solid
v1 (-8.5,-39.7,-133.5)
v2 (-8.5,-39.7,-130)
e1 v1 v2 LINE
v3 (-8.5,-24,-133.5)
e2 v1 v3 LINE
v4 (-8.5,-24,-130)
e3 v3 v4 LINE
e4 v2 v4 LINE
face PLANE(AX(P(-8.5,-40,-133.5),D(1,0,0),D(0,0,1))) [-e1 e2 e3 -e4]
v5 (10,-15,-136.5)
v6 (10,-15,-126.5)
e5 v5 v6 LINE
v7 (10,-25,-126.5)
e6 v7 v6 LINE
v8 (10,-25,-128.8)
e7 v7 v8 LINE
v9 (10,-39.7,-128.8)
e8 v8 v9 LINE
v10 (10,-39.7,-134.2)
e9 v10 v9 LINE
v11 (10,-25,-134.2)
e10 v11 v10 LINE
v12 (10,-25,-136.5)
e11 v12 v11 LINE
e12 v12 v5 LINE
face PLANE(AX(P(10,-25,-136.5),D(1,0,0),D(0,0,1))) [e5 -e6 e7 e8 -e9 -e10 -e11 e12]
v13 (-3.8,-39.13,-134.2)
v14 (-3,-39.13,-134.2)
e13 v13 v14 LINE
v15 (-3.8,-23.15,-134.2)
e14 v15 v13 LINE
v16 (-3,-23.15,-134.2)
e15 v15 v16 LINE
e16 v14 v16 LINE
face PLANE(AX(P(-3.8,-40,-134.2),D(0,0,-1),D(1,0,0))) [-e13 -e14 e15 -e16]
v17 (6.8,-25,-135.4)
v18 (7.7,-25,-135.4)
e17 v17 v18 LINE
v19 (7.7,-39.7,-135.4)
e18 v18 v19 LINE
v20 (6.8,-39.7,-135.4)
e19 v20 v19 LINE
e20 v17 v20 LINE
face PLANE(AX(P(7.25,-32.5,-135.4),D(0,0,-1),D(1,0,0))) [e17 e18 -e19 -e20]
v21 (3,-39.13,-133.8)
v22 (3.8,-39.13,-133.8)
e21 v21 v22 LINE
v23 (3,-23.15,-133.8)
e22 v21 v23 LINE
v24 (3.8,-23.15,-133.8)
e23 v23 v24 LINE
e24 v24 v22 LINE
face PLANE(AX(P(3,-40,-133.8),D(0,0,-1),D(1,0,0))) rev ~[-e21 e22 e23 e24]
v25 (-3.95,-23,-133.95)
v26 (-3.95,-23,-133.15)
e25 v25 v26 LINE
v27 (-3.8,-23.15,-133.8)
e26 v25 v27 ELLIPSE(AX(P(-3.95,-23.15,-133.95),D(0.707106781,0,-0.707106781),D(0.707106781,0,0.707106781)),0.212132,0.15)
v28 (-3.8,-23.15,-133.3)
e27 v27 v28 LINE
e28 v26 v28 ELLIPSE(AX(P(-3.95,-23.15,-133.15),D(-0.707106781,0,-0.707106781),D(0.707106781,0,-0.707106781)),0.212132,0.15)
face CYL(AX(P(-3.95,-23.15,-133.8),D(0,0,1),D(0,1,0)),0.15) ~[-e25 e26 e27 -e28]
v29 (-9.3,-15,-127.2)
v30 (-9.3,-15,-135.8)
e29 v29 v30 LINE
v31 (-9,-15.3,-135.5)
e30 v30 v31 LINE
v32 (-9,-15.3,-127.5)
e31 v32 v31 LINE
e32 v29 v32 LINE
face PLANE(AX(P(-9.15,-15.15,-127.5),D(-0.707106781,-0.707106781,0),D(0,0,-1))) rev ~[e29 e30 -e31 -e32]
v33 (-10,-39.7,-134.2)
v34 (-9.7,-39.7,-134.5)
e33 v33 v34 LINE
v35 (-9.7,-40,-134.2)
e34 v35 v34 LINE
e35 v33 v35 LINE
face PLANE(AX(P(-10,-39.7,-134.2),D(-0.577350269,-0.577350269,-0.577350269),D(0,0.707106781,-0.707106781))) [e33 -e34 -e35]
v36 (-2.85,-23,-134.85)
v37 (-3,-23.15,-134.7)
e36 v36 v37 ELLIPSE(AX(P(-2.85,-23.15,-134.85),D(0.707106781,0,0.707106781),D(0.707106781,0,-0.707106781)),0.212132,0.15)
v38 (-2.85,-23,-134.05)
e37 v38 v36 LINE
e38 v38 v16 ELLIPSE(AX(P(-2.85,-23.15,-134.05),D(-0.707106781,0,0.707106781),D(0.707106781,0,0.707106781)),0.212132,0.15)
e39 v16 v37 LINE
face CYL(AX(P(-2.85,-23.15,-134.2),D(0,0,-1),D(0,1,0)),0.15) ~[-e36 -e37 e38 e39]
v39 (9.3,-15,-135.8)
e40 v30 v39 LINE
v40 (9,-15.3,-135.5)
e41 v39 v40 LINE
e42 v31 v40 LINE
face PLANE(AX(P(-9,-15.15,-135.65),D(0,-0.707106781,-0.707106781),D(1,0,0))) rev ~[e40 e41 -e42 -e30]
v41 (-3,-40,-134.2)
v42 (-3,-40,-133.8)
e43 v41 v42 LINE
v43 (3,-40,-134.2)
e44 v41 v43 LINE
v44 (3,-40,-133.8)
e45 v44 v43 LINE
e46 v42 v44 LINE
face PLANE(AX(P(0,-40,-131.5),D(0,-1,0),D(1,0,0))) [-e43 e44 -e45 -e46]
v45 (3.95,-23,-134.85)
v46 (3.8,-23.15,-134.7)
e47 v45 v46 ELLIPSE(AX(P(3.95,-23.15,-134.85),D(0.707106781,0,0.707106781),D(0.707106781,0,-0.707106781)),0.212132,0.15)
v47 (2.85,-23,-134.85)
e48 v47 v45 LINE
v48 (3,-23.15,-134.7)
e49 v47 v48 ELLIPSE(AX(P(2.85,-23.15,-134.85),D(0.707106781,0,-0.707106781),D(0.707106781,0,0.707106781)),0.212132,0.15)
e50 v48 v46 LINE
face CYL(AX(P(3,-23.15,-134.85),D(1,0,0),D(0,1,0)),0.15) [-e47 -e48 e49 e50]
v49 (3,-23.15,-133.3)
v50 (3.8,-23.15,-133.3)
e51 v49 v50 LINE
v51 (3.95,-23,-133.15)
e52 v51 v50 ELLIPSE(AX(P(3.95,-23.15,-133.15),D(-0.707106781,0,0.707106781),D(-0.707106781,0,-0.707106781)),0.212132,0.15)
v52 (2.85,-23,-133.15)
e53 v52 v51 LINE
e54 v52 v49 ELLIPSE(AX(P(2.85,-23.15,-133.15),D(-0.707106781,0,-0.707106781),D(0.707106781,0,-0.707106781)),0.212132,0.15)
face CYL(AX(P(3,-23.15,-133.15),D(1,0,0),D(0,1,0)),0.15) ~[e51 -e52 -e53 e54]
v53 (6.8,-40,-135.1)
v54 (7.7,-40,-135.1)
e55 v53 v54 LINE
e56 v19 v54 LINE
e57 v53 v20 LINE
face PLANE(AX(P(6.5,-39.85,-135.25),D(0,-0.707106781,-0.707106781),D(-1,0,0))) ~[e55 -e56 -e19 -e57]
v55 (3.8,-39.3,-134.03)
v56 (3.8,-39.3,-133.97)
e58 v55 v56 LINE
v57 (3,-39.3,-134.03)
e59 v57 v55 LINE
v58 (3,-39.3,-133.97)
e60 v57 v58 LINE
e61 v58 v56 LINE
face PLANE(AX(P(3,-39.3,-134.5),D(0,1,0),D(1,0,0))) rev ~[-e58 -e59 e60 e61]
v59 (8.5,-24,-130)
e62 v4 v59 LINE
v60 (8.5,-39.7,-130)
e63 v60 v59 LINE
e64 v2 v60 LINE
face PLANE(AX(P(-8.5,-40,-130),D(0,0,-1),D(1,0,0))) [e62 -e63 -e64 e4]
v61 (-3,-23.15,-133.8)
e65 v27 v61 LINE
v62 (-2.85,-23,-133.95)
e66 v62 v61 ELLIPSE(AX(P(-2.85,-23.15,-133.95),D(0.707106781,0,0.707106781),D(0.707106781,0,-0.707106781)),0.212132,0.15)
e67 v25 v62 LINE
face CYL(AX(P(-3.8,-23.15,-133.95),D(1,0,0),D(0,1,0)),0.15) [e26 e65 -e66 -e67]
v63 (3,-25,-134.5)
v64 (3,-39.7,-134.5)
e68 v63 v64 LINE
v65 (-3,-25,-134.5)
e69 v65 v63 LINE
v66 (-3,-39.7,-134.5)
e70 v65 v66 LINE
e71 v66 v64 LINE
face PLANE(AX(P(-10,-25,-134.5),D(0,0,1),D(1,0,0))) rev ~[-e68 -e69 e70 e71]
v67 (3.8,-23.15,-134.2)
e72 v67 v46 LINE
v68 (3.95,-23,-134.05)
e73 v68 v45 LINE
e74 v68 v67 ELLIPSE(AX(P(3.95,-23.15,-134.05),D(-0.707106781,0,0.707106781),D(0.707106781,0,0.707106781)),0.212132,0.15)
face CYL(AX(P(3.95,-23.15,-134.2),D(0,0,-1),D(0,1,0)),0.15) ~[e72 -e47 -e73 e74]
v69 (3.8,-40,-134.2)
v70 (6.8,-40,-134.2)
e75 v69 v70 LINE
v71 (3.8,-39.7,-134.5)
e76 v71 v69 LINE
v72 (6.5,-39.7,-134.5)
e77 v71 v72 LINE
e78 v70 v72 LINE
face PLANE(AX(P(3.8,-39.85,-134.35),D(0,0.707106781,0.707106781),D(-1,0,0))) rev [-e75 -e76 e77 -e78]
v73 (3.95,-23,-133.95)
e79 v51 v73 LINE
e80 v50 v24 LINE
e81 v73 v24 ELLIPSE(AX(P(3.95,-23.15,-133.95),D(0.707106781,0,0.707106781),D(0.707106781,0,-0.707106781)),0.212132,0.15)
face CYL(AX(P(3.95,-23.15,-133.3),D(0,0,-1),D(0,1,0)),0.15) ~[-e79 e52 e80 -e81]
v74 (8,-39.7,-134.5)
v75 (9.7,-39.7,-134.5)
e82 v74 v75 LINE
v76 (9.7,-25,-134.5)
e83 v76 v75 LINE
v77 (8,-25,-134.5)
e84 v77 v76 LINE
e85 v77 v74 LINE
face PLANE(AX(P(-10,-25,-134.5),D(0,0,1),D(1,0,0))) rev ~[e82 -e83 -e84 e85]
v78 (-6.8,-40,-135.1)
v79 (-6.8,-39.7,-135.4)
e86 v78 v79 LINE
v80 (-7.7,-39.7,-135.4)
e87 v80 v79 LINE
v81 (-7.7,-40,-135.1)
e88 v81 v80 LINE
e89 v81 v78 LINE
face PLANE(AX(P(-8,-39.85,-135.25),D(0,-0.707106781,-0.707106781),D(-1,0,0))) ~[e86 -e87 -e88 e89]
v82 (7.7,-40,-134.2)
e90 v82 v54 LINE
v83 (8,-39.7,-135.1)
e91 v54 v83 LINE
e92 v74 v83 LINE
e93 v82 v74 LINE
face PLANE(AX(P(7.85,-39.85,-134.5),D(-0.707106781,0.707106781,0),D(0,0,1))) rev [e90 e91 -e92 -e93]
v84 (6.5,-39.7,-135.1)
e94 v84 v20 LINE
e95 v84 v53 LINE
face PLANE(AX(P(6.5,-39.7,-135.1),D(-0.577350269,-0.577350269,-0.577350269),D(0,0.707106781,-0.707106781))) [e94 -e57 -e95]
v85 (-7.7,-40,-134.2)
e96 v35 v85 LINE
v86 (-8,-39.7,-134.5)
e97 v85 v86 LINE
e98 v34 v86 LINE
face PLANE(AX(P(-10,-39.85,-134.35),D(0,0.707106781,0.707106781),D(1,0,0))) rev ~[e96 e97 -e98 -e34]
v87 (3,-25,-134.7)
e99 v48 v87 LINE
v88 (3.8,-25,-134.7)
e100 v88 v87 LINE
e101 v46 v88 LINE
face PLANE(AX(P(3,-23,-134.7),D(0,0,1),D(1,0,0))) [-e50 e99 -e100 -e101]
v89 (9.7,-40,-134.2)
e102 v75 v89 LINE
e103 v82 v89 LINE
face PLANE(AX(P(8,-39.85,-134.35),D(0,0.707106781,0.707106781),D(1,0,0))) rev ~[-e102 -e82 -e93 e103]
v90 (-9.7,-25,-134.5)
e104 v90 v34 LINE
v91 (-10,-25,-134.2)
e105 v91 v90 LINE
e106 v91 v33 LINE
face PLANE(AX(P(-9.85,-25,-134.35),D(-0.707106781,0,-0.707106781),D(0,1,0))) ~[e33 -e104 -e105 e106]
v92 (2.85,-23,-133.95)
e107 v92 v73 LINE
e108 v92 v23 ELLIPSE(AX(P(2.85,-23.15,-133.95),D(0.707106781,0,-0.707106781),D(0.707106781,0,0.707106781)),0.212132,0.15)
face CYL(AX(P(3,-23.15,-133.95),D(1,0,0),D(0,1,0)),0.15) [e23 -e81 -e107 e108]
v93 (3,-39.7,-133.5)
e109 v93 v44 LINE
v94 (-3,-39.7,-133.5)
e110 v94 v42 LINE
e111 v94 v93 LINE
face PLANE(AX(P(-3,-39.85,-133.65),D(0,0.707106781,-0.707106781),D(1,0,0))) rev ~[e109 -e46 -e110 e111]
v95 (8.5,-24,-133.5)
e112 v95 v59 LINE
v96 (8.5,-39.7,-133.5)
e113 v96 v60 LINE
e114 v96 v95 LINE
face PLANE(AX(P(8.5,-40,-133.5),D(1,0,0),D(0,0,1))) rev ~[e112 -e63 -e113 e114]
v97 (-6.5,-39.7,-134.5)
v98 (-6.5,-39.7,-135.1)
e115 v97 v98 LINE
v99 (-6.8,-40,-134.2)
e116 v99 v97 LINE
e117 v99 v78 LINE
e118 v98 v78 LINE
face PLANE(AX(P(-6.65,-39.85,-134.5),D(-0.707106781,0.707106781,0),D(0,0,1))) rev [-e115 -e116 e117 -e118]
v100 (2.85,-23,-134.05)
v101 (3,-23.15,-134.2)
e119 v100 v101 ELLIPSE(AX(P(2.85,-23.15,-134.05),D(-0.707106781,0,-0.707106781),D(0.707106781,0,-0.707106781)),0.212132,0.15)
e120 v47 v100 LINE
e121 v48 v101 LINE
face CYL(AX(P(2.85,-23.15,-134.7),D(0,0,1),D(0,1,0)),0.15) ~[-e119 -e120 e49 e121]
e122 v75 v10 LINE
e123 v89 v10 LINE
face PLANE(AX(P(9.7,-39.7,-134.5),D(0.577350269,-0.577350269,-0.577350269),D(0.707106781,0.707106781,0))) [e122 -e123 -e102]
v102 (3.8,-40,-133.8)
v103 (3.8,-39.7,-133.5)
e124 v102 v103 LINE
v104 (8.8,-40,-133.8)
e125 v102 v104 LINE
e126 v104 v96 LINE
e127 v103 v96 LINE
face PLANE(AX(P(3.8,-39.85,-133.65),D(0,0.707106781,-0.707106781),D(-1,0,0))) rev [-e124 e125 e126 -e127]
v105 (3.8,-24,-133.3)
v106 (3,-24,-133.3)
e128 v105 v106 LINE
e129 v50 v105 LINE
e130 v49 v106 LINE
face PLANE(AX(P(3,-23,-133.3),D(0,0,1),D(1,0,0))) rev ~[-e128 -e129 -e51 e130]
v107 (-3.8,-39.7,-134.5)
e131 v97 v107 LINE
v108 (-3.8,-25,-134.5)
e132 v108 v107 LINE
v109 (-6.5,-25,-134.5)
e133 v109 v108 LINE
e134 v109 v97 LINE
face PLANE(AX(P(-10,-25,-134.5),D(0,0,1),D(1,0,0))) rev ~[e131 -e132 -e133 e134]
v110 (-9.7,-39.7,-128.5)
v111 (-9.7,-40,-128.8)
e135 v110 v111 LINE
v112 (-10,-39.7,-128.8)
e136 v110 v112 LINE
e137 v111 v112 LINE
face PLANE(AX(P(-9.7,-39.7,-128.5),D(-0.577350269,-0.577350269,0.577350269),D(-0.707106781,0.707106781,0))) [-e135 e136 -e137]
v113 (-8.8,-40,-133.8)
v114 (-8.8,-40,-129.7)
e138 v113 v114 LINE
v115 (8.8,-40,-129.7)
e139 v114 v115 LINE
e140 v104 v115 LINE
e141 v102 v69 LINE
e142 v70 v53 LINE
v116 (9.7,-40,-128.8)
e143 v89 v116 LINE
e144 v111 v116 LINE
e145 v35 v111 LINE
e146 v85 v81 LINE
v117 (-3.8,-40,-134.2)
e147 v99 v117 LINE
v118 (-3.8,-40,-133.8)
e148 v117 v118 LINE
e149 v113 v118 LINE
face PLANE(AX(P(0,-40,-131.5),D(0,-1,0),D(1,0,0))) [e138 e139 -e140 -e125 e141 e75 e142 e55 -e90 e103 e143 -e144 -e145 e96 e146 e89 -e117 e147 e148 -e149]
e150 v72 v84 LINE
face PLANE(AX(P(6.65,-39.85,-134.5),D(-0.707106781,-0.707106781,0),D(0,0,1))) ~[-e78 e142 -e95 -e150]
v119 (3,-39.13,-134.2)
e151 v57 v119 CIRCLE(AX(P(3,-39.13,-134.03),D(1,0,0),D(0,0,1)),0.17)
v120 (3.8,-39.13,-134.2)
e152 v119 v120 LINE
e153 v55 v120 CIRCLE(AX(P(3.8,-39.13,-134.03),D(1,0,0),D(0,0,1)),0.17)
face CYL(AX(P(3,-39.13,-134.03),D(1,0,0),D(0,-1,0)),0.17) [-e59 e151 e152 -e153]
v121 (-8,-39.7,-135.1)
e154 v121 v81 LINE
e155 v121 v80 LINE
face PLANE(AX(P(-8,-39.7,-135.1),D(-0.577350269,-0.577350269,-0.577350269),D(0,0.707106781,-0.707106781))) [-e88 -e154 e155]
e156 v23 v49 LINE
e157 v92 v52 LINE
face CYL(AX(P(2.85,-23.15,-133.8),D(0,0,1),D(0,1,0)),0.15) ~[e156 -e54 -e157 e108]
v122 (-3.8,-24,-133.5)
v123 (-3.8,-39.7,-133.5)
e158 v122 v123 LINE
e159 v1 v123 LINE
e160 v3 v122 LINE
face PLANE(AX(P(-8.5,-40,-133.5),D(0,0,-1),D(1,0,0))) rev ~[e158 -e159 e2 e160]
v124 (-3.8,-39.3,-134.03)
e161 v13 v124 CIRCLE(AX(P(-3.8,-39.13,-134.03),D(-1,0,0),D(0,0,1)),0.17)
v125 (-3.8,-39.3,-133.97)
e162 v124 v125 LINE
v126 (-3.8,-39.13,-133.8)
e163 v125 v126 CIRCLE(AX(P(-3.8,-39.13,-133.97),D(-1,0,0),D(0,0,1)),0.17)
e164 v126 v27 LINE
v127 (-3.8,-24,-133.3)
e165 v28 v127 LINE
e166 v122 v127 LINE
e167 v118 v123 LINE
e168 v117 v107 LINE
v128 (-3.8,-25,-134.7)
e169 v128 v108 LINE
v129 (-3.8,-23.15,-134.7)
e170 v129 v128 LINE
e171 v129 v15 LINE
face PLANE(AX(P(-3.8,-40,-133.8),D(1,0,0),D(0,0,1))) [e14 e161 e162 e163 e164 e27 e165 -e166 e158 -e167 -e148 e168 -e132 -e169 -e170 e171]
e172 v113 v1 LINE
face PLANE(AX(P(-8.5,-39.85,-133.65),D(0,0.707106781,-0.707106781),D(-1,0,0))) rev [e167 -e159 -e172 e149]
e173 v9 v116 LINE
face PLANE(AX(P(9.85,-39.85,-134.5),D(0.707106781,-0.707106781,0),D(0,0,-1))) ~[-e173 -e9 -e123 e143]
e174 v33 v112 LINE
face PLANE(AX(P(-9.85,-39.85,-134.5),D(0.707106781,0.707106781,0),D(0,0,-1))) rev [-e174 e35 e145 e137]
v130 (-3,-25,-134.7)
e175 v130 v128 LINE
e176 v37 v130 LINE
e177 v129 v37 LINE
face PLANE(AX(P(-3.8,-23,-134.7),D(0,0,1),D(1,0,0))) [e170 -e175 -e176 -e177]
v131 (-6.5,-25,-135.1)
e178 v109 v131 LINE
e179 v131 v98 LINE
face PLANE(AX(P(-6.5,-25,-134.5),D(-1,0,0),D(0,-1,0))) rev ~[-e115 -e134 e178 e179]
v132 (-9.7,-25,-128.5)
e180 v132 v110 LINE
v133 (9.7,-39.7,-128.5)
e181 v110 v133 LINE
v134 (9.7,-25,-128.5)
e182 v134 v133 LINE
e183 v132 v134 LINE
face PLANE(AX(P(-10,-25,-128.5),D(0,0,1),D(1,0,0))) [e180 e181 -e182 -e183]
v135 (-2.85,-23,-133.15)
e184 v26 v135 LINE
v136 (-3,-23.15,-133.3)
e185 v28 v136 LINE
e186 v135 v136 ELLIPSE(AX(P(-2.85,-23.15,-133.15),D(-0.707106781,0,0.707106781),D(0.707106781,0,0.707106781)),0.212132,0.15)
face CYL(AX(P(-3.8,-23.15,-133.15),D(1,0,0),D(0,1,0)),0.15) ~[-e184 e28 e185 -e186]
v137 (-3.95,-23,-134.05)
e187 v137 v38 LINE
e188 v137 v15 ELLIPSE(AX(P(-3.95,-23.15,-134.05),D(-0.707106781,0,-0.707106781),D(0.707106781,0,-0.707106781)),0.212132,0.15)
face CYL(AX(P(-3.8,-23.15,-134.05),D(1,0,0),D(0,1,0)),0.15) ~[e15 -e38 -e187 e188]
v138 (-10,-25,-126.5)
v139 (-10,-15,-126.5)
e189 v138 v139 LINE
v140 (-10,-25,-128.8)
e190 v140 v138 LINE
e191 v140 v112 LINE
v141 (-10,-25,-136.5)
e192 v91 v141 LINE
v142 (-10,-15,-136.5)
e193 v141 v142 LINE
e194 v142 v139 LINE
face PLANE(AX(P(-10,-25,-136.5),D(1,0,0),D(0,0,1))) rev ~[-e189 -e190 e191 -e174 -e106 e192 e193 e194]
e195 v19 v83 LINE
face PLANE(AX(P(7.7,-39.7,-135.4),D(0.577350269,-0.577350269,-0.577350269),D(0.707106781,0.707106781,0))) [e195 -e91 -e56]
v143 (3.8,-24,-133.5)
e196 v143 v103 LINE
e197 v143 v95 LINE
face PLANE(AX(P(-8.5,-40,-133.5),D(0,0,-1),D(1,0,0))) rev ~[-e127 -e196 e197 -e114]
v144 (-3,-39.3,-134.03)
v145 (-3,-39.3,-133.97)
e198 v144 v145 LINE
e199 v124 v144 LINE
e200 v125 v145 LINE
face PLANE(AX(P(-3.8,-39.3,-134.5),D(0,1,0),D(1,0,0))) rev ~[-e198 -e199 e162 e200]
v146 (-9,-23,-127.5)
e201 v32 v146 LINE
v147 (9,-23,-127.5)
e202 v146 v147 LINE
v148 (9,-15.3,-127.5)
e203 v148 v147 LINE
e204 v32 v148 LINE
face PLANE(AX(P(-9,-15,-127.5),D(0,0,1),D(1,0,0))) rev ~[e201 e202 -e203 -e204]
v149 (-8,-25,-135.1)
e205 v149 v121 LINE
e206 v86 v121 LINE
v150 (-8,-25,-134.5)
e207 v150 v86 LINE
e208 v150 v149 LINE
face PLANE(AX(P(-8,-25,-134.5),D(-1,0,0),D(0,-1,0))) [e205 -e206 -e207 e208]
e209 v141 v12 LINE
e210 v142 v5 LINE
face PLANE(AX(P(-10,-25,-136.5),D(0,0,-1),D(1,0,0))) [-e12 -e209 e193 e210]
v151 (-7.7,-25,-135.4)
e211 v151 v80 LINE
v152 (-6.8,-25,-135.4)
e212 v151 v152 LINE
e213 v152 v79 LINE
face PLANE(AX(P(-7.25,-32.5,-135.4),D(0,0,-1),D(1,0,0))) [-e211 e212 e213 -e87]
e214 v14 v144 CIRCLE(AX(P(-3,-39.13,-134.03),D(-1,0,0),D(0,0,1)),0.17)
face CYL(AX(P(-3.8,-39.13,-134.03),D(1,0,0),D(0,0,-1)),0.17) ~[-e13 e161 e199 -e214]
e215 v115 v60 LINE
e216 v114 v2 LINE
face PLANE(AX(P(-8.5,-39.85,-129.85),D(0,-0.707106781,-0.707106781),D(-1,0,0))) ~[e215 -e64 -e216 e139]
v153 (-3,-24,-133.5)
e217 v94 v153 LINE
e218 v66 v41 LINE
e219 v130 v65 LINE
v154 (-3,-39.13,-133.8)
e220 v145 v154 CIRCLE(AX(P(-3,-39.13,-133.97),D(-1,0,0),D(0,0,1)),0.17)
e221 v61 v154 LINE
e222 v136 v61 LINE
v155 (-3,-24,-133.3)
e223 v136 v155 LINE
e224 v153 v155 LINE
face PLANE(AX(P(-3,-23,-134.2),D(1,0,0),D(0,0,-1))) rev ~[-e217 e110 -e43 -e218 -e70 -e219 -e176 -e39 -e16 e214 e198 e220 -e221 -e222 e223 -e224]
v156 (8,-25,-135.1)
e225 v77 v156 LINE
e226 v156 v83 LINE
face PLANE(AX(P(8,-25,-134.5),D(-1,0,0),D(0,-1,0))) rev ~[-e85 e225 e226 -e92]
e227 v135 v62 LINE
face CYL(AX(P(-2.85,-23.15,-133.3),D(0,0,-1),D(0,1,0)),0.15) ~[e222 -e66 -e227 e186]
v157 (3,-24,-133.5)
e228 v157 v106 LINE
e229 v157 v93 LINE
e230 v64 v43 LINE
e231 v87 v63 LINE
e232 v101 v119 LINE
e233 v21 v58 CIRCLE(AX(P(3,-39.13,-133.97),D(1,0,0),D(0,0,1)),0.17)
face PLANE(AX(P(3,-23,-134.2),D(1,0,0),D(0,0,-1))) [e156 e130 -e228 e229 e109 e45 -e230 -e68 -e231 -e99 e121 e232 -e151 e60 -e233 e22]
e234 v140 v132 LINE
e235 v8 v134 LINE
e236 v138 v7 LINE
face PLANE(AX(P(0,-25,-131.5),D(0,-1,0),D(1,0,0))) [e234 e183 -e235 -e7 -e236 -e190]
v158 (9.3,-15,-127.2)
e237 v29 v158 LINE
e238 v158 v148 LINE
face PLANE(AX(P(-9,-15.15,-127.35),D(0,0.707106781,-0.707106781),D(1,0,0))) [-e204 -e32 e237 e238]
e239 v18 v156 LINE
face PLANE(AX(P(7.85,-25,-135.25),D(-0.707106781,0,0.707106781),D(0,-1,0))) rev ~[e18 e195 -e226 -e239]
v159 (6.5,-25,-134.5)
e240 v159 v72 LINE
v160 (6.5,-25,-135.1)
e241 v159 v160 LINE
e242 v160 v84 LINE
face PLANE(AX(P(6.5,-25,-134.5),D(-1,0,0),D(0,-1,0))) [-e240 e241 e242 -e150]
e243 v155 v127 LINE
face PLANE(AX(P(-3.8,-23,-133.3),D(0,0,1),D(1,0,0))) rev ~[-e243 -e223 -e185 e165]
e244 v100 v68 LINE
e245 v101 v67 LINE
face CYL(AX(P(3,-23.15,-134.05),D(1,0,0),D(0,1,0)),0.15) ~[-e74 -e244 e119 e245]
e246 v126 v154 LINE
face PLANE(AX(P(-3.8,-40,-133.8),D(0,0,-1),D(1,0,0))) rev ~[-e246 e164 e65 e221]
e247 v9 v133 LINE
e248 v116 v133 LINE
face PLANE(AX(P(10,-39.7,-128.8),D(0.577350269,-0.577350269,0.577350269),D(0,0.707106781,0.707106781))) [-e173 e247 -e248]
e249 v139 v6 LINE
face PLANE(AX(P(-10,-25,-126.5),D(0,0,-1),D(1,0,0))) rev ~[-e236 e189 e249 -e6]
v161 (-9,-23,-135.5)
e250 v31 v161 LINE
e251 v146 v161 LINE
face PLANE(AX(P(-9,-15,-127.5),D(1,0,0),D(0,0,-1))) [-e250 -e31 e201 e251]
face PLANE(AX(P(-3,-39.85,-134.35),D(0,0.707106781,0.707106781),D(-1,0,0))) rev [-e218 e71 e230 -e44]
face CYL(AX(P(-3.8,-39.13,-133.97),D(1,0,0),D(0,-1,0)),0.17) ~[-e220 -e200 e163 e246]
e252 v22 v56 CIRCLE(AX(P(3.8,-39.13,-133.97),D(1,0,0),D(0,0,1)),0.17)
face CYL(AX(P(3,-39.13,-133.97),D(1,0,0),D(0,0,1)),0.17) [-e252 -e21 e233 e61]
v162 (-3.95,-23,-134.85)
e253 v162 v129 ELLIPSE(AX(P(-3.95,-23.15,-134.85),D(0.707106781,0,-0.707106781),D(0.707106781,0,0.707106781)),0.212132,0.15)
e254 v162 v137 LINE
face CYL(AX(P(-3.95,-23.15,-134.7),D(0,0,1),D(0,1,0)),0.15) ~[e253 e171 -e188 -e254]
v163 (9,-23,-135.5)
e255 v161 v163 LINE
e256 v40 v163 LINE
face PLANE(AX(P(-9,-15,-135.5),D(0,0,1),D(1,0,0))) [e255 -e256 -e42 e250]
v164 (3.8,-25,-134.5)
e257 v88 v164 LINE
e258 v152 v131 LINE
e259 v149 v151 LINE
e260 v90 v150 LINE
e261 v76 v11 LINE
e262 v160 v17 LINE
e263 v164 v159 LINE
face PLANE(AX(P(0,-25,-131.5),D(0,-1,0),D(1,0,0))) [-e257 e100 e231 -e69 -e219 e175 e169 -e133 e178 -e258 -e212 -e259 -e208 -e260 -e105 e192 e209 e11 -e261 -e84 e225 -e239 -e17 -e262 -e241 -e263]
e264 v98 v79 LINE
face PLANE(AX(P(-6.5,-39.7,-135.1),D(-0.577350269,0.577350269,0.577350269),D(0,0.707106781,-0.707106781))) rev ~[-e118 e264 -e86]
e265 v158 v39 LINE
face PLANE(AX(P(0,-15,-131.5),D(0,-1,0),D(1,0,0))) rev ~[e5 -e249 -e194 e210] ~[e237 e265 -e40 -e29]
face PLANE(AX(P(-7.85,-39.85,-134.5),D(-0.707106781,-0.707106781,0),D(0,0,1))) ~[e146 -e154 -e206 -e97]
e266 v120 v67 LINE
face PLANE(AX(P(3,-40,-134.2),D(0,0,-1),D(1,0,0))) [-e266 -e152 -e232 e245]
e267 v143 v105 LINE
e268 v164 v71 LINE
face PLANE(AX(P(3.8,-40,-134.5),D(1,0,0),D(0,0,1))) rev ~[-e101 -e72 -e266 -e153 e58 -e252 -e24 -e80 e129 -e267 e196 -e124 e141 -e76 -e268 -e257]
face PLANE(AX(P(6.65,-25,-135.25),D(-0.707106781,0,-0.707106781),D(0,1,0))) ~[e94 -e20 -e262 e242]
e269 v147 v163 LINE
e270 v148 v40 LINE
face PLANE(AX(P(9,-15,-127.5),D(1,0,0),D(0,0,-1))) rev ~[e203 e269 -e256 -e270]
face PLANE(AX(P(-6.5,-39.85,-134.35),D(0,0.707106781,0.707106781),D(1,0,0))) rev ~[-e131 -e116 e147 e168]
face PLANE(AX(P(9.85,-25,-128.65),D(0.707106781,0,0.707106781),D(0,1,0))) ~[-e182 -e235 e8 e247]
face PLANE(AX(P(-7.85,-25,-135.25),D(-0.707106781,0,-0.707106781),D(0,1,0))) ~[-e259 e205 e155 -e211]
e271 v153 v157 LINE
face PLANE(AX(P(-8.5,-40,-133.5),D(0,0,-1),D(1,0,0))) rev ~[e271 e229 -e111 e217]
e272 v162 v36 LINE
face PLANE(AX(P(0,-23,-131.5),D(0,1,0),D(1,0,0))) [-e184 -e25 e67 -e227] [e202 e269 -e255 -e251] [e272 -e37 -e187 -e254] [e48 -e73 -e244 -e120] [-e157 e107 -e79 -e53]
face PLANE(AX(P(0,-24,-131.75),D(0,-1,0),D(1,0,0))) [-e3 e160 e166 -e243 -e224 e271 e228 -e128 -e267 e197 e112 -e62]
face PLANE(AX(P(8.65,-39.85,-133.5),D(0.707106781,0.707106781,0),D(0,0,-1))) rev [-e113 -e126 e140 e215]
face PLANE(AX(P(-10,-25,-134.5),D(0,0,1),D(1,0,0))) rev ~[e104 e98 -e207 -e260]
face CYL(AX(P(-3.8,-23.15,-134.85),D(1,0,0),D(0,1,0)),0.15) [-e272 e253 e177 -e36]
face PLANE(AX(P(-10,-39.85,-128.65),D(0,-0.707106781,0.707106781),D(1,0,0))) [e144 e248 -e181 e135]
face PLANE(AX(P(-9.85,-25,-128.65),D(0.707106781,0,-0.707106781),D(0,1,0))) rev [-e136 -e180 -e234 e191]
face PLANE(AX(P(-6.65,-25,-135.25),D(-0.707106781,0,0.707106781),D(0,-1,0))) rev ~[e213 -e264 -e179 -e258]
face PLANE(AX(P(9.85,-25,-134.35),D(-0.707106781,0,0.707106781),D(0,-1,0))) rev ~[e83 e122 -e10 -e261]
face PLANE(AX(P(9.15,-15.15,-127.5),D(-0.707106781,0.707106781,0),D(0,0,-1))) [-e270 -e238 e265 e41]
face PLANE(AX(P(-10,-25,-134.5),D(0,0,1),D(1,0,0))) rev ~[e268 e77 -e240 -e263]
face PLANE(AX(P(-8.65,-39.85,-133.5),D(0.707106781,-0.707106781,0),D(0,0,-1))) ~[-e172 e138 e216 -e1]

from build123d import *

# Parameters (mm, degrees)
SKETCH090_W     = 20
SKETCH090_H     = 10
PAD049_DEPTH    = 10
SKETCH091_W     = 20
SKETCH091_H     = 6
PAD050_DEPTH    = 15
SKETCH092_W     = 1.5
SKETCH092_H     = 15
PAD051_DEPTH    = 0.9
SKETCH093_W     = 17
SKETCH093_H     = 3.5
POCKET033_DEPTH = 16
SKETCH094_W     = 0.8
SKETCH094_H     = 0.3
POCKET034_DEPTH = 20
SKETCH095_W     = 0.8
SKETCH095_H     = 0.3
POCKET035_DEPTH = 20
SKETCH006_W     = 18
SKETCH006_H     = 8
POCKET003_DEPTH = 8
SKETCH096_W     = 0.8
SKETCH096_H     = 0.7
POCKET036_DEPTH = 2
SKETCH097_W     = 0.8
SKETCH097_H     = 0.5
POCKET037_DEPTH = 5
FILLET_R        = 0.17
CHAMFER054_SIZE = 0.3
CHAMFER007_SIZE = 0.3
FILLET001_R     = 0.15


with BuildPart() as part:
    # Sketch090 → Pad049 (new body)
    with BuildSketch(Plane.XZ):
        Rectangle(SKETCH090_W, SKETCH090_H)
    extrude(amount=-PAD049_DEPTH)

    # Sketch091 (on Face5 of Pad049) → Pad050 (join)
    with BuildSketch(Plane.XZ):
        Rectangle(SKETCH091_W, SKETCH091_H)
    extrude(amount=PAD050_DEPTH)

    # Sketch092 (on Face7 of Pad050) → Pad051 (join)
    with BuildSketch(Plane(origin=(0, 0, -3), x_dir=(1, 0, 0), z_dir=(0, 0, -1))):
        with Locations((-7.25, 7.5)):
            Rectangle(SKETCH092_W, SKETCH092_H)
        with Locations((7.25, 7.5)):
            Rectangle(SKETCH092_W, SKETCH092_H)
    extrude(amount=PAD051_DEPTH)

    # Sketch093 (on Face18 of Pad051) → Pocket033 (cut)
    with BuildSketch(Plane.XZ.offset(15)):
        with Locations((0, -0.25)):
            Rectangle(SKETCH093_W, SKETCH093_H)
    extrude(amount=-POCKET033_DEPTH, mode=Mode.SUBTRACT)

    # Sketch094 (on Face9 of Pocket033) → Pocket034 (cut)
    with BuildSketch(Plane.XZ.offset(15)):
        with Locations((-3.4, -2.15)):
            Rectangle(SKETCH094_W, SKETCH094_H)
        with Locations((3.4, -2.15)):
            Rectangle(SKETCH094_W, SKETCH094_H)
    extrude(amount=-POCKET034_DEPTH, mode=Mode.SUBTRACT)

    # Sketch095 (on Face9 of Pocket034) → Pocket035 (cut)
    with BuildSketch(Plane.XZ.offset(15)):
        with Locations((-3.4, -2.85)):
            Rectangle(SKETCH095_W, SKETCH095_H)
        with Locations((3.4, -2.85)):
            Rectangle(SKETCH095_W, SKETCH095_H)
    extrude(amount=-POCKET035_DEPTH, mode=Mode.SUBTRACT)

    # Sketch006 (on Face5 of Pocket035) → Pocket003 (cut)
    with BuildSketch(Plane(origin=(0, 10, 0), x_dir=(1, 0, 0), z_dir=(0, 1, 0))):
        Rectangle(SKETCH006_W, SKETCH006_H)
    extrude(amount=-POCKET003_DEPTH, mode=Mode.SUBTRACT)

    # Sketch096 (on Face21 of Pocket003) → Pocket036 (cut)
    with BuildSketch(Plane(origin=(0, 0, -3), x_dir=(1, 0, 0), z_dir=(0, 0, -1))):
        with Locations((-3.4, 14.65)):
            Rectangle(SKETCH096_W, SKETCH096_H)
        with Locations((3.4, 14.65)):
            Rectangle(SKETCH096_W, SKETCH096_H)
    extrude(amount=-POCKET036_DEPTH, mode=Mode.SUBTRACT)

    # Sketch097 (on Face36 of Pocket036) → Pocket037 (cut)
    with BuildSketch(Plane(origin=(0, 2, 0), x_dir=(1, 0, 0), z_dir=(0, 1, 0))):
        with Locations((-3.4, 2.95)):
            Rectangle(SKETCH097_W, SKETCH097_H)
        with Locations((-3.4, 2.05)):
            Rectangle(SKETCH097_W, SKETCH097_H)
        with Locations((3.4, 2.95)):
            Rectangle(SKETCH097_W, SKETCH097_H)
        with Locations((3.4, 2.05)):
            Rectangle(SKETCH097_W, SKETCH097_H)
    extrude(amount=-POCKET037_DEPTH, mode=Mode.SUBTRACT)

    # Fillet
    fillet_edges = [part.edges().sort_by_distance(p)[0] for p in [
        (-3.4, -14.3, -2.3),
        (-3.4, -14.3, -2.7),
        (3.4, -14.3, -2.3),
        (3.4, -14.3, -2.7),
    ]]
    fillet(fillet_edges, radius=FILLET_R)

    # Chamfer054
    chamfer054_edges = [part.edges().sort_by_distance(p)[0] for p in [
        (-9, -15, -3),
        (-10, -15, 0),
        (0, -15, 3),
        (10, -15, 0),
        (9, -15, -3),
        (8, -15, -3.45),
        (7.25, -15, -3.9),
        (6.5, -15, -3.45),
        (5.15, -15, -3),
        (0, -15, -3),
        (-5.15, -15, -3),
        (-7.25, -15, -3.9),
        (-8, -15, -3.45),
        (-6.5, -15, -3.45),
        (-6.15, -15, -2),
        (0, -15, -2),
        (6.15, -15, -2),
        (8.5, -15, -0.25),
        (0, -15, 1.5),
        (-8.5, -15, -0.25),
        (10, -7.5, 3),
        (10, -7.5, -3),
        (-10, -7.5, -3),
        (-10, -7.5, 3),
        (8, -7.5, -3.9),
        (6.5, -7.5, -3.9),
        (-6.5, -7.5, -3.9),
        (-8, -7.5, -3.9),
    ]]
    chamfer(chamfer054_edges, length=CHAMFER054_SIZE)

    # Chamfer007
    chamfer007_edges = [part.edges().sort_by_distance(p)[0] for p in [
        (0, 10, -4),
        (-9, 10, 0),
        (0, 10, 4),
        (9, 10, 0),
    ]]
    chamfer(chamfer007_edges, length=CHAMFER007_SIZE)

    # Fillet001
    fillet001_edges = [part.edges().sort_by_distance(p)[0] for p in [
        (3.4, 2, -2.3),
        (3.8, 2, -2.05),
        (3.4, 2, -1.8),
        (3, 2, -2.05),
        (3.4, 2, -2.7),
        (3.8, 2, -2.95),
        (3.4, 2, -3.2),
        (3, 2, -2.95),
        (-3.4, 2, -1.8),
        (-3.8, 2, -2.05),
        (-3.4, 2, -2.3),
        (-3, 2, -2.05),
        (-3.4, 2, -2.7),
        (-3.8, 2, -2.95),
        (-3.4, 2, -3.2),
        (-3, 2, -2.95),
    ]]
    fillet(fillet001_edges, radius=FILLET001_R)


with BuildPart() as part_1:
    # Body017 placement: moved
    add(part.part.moved(Location((0, -25, -131.5))))


solid = part_1.part
